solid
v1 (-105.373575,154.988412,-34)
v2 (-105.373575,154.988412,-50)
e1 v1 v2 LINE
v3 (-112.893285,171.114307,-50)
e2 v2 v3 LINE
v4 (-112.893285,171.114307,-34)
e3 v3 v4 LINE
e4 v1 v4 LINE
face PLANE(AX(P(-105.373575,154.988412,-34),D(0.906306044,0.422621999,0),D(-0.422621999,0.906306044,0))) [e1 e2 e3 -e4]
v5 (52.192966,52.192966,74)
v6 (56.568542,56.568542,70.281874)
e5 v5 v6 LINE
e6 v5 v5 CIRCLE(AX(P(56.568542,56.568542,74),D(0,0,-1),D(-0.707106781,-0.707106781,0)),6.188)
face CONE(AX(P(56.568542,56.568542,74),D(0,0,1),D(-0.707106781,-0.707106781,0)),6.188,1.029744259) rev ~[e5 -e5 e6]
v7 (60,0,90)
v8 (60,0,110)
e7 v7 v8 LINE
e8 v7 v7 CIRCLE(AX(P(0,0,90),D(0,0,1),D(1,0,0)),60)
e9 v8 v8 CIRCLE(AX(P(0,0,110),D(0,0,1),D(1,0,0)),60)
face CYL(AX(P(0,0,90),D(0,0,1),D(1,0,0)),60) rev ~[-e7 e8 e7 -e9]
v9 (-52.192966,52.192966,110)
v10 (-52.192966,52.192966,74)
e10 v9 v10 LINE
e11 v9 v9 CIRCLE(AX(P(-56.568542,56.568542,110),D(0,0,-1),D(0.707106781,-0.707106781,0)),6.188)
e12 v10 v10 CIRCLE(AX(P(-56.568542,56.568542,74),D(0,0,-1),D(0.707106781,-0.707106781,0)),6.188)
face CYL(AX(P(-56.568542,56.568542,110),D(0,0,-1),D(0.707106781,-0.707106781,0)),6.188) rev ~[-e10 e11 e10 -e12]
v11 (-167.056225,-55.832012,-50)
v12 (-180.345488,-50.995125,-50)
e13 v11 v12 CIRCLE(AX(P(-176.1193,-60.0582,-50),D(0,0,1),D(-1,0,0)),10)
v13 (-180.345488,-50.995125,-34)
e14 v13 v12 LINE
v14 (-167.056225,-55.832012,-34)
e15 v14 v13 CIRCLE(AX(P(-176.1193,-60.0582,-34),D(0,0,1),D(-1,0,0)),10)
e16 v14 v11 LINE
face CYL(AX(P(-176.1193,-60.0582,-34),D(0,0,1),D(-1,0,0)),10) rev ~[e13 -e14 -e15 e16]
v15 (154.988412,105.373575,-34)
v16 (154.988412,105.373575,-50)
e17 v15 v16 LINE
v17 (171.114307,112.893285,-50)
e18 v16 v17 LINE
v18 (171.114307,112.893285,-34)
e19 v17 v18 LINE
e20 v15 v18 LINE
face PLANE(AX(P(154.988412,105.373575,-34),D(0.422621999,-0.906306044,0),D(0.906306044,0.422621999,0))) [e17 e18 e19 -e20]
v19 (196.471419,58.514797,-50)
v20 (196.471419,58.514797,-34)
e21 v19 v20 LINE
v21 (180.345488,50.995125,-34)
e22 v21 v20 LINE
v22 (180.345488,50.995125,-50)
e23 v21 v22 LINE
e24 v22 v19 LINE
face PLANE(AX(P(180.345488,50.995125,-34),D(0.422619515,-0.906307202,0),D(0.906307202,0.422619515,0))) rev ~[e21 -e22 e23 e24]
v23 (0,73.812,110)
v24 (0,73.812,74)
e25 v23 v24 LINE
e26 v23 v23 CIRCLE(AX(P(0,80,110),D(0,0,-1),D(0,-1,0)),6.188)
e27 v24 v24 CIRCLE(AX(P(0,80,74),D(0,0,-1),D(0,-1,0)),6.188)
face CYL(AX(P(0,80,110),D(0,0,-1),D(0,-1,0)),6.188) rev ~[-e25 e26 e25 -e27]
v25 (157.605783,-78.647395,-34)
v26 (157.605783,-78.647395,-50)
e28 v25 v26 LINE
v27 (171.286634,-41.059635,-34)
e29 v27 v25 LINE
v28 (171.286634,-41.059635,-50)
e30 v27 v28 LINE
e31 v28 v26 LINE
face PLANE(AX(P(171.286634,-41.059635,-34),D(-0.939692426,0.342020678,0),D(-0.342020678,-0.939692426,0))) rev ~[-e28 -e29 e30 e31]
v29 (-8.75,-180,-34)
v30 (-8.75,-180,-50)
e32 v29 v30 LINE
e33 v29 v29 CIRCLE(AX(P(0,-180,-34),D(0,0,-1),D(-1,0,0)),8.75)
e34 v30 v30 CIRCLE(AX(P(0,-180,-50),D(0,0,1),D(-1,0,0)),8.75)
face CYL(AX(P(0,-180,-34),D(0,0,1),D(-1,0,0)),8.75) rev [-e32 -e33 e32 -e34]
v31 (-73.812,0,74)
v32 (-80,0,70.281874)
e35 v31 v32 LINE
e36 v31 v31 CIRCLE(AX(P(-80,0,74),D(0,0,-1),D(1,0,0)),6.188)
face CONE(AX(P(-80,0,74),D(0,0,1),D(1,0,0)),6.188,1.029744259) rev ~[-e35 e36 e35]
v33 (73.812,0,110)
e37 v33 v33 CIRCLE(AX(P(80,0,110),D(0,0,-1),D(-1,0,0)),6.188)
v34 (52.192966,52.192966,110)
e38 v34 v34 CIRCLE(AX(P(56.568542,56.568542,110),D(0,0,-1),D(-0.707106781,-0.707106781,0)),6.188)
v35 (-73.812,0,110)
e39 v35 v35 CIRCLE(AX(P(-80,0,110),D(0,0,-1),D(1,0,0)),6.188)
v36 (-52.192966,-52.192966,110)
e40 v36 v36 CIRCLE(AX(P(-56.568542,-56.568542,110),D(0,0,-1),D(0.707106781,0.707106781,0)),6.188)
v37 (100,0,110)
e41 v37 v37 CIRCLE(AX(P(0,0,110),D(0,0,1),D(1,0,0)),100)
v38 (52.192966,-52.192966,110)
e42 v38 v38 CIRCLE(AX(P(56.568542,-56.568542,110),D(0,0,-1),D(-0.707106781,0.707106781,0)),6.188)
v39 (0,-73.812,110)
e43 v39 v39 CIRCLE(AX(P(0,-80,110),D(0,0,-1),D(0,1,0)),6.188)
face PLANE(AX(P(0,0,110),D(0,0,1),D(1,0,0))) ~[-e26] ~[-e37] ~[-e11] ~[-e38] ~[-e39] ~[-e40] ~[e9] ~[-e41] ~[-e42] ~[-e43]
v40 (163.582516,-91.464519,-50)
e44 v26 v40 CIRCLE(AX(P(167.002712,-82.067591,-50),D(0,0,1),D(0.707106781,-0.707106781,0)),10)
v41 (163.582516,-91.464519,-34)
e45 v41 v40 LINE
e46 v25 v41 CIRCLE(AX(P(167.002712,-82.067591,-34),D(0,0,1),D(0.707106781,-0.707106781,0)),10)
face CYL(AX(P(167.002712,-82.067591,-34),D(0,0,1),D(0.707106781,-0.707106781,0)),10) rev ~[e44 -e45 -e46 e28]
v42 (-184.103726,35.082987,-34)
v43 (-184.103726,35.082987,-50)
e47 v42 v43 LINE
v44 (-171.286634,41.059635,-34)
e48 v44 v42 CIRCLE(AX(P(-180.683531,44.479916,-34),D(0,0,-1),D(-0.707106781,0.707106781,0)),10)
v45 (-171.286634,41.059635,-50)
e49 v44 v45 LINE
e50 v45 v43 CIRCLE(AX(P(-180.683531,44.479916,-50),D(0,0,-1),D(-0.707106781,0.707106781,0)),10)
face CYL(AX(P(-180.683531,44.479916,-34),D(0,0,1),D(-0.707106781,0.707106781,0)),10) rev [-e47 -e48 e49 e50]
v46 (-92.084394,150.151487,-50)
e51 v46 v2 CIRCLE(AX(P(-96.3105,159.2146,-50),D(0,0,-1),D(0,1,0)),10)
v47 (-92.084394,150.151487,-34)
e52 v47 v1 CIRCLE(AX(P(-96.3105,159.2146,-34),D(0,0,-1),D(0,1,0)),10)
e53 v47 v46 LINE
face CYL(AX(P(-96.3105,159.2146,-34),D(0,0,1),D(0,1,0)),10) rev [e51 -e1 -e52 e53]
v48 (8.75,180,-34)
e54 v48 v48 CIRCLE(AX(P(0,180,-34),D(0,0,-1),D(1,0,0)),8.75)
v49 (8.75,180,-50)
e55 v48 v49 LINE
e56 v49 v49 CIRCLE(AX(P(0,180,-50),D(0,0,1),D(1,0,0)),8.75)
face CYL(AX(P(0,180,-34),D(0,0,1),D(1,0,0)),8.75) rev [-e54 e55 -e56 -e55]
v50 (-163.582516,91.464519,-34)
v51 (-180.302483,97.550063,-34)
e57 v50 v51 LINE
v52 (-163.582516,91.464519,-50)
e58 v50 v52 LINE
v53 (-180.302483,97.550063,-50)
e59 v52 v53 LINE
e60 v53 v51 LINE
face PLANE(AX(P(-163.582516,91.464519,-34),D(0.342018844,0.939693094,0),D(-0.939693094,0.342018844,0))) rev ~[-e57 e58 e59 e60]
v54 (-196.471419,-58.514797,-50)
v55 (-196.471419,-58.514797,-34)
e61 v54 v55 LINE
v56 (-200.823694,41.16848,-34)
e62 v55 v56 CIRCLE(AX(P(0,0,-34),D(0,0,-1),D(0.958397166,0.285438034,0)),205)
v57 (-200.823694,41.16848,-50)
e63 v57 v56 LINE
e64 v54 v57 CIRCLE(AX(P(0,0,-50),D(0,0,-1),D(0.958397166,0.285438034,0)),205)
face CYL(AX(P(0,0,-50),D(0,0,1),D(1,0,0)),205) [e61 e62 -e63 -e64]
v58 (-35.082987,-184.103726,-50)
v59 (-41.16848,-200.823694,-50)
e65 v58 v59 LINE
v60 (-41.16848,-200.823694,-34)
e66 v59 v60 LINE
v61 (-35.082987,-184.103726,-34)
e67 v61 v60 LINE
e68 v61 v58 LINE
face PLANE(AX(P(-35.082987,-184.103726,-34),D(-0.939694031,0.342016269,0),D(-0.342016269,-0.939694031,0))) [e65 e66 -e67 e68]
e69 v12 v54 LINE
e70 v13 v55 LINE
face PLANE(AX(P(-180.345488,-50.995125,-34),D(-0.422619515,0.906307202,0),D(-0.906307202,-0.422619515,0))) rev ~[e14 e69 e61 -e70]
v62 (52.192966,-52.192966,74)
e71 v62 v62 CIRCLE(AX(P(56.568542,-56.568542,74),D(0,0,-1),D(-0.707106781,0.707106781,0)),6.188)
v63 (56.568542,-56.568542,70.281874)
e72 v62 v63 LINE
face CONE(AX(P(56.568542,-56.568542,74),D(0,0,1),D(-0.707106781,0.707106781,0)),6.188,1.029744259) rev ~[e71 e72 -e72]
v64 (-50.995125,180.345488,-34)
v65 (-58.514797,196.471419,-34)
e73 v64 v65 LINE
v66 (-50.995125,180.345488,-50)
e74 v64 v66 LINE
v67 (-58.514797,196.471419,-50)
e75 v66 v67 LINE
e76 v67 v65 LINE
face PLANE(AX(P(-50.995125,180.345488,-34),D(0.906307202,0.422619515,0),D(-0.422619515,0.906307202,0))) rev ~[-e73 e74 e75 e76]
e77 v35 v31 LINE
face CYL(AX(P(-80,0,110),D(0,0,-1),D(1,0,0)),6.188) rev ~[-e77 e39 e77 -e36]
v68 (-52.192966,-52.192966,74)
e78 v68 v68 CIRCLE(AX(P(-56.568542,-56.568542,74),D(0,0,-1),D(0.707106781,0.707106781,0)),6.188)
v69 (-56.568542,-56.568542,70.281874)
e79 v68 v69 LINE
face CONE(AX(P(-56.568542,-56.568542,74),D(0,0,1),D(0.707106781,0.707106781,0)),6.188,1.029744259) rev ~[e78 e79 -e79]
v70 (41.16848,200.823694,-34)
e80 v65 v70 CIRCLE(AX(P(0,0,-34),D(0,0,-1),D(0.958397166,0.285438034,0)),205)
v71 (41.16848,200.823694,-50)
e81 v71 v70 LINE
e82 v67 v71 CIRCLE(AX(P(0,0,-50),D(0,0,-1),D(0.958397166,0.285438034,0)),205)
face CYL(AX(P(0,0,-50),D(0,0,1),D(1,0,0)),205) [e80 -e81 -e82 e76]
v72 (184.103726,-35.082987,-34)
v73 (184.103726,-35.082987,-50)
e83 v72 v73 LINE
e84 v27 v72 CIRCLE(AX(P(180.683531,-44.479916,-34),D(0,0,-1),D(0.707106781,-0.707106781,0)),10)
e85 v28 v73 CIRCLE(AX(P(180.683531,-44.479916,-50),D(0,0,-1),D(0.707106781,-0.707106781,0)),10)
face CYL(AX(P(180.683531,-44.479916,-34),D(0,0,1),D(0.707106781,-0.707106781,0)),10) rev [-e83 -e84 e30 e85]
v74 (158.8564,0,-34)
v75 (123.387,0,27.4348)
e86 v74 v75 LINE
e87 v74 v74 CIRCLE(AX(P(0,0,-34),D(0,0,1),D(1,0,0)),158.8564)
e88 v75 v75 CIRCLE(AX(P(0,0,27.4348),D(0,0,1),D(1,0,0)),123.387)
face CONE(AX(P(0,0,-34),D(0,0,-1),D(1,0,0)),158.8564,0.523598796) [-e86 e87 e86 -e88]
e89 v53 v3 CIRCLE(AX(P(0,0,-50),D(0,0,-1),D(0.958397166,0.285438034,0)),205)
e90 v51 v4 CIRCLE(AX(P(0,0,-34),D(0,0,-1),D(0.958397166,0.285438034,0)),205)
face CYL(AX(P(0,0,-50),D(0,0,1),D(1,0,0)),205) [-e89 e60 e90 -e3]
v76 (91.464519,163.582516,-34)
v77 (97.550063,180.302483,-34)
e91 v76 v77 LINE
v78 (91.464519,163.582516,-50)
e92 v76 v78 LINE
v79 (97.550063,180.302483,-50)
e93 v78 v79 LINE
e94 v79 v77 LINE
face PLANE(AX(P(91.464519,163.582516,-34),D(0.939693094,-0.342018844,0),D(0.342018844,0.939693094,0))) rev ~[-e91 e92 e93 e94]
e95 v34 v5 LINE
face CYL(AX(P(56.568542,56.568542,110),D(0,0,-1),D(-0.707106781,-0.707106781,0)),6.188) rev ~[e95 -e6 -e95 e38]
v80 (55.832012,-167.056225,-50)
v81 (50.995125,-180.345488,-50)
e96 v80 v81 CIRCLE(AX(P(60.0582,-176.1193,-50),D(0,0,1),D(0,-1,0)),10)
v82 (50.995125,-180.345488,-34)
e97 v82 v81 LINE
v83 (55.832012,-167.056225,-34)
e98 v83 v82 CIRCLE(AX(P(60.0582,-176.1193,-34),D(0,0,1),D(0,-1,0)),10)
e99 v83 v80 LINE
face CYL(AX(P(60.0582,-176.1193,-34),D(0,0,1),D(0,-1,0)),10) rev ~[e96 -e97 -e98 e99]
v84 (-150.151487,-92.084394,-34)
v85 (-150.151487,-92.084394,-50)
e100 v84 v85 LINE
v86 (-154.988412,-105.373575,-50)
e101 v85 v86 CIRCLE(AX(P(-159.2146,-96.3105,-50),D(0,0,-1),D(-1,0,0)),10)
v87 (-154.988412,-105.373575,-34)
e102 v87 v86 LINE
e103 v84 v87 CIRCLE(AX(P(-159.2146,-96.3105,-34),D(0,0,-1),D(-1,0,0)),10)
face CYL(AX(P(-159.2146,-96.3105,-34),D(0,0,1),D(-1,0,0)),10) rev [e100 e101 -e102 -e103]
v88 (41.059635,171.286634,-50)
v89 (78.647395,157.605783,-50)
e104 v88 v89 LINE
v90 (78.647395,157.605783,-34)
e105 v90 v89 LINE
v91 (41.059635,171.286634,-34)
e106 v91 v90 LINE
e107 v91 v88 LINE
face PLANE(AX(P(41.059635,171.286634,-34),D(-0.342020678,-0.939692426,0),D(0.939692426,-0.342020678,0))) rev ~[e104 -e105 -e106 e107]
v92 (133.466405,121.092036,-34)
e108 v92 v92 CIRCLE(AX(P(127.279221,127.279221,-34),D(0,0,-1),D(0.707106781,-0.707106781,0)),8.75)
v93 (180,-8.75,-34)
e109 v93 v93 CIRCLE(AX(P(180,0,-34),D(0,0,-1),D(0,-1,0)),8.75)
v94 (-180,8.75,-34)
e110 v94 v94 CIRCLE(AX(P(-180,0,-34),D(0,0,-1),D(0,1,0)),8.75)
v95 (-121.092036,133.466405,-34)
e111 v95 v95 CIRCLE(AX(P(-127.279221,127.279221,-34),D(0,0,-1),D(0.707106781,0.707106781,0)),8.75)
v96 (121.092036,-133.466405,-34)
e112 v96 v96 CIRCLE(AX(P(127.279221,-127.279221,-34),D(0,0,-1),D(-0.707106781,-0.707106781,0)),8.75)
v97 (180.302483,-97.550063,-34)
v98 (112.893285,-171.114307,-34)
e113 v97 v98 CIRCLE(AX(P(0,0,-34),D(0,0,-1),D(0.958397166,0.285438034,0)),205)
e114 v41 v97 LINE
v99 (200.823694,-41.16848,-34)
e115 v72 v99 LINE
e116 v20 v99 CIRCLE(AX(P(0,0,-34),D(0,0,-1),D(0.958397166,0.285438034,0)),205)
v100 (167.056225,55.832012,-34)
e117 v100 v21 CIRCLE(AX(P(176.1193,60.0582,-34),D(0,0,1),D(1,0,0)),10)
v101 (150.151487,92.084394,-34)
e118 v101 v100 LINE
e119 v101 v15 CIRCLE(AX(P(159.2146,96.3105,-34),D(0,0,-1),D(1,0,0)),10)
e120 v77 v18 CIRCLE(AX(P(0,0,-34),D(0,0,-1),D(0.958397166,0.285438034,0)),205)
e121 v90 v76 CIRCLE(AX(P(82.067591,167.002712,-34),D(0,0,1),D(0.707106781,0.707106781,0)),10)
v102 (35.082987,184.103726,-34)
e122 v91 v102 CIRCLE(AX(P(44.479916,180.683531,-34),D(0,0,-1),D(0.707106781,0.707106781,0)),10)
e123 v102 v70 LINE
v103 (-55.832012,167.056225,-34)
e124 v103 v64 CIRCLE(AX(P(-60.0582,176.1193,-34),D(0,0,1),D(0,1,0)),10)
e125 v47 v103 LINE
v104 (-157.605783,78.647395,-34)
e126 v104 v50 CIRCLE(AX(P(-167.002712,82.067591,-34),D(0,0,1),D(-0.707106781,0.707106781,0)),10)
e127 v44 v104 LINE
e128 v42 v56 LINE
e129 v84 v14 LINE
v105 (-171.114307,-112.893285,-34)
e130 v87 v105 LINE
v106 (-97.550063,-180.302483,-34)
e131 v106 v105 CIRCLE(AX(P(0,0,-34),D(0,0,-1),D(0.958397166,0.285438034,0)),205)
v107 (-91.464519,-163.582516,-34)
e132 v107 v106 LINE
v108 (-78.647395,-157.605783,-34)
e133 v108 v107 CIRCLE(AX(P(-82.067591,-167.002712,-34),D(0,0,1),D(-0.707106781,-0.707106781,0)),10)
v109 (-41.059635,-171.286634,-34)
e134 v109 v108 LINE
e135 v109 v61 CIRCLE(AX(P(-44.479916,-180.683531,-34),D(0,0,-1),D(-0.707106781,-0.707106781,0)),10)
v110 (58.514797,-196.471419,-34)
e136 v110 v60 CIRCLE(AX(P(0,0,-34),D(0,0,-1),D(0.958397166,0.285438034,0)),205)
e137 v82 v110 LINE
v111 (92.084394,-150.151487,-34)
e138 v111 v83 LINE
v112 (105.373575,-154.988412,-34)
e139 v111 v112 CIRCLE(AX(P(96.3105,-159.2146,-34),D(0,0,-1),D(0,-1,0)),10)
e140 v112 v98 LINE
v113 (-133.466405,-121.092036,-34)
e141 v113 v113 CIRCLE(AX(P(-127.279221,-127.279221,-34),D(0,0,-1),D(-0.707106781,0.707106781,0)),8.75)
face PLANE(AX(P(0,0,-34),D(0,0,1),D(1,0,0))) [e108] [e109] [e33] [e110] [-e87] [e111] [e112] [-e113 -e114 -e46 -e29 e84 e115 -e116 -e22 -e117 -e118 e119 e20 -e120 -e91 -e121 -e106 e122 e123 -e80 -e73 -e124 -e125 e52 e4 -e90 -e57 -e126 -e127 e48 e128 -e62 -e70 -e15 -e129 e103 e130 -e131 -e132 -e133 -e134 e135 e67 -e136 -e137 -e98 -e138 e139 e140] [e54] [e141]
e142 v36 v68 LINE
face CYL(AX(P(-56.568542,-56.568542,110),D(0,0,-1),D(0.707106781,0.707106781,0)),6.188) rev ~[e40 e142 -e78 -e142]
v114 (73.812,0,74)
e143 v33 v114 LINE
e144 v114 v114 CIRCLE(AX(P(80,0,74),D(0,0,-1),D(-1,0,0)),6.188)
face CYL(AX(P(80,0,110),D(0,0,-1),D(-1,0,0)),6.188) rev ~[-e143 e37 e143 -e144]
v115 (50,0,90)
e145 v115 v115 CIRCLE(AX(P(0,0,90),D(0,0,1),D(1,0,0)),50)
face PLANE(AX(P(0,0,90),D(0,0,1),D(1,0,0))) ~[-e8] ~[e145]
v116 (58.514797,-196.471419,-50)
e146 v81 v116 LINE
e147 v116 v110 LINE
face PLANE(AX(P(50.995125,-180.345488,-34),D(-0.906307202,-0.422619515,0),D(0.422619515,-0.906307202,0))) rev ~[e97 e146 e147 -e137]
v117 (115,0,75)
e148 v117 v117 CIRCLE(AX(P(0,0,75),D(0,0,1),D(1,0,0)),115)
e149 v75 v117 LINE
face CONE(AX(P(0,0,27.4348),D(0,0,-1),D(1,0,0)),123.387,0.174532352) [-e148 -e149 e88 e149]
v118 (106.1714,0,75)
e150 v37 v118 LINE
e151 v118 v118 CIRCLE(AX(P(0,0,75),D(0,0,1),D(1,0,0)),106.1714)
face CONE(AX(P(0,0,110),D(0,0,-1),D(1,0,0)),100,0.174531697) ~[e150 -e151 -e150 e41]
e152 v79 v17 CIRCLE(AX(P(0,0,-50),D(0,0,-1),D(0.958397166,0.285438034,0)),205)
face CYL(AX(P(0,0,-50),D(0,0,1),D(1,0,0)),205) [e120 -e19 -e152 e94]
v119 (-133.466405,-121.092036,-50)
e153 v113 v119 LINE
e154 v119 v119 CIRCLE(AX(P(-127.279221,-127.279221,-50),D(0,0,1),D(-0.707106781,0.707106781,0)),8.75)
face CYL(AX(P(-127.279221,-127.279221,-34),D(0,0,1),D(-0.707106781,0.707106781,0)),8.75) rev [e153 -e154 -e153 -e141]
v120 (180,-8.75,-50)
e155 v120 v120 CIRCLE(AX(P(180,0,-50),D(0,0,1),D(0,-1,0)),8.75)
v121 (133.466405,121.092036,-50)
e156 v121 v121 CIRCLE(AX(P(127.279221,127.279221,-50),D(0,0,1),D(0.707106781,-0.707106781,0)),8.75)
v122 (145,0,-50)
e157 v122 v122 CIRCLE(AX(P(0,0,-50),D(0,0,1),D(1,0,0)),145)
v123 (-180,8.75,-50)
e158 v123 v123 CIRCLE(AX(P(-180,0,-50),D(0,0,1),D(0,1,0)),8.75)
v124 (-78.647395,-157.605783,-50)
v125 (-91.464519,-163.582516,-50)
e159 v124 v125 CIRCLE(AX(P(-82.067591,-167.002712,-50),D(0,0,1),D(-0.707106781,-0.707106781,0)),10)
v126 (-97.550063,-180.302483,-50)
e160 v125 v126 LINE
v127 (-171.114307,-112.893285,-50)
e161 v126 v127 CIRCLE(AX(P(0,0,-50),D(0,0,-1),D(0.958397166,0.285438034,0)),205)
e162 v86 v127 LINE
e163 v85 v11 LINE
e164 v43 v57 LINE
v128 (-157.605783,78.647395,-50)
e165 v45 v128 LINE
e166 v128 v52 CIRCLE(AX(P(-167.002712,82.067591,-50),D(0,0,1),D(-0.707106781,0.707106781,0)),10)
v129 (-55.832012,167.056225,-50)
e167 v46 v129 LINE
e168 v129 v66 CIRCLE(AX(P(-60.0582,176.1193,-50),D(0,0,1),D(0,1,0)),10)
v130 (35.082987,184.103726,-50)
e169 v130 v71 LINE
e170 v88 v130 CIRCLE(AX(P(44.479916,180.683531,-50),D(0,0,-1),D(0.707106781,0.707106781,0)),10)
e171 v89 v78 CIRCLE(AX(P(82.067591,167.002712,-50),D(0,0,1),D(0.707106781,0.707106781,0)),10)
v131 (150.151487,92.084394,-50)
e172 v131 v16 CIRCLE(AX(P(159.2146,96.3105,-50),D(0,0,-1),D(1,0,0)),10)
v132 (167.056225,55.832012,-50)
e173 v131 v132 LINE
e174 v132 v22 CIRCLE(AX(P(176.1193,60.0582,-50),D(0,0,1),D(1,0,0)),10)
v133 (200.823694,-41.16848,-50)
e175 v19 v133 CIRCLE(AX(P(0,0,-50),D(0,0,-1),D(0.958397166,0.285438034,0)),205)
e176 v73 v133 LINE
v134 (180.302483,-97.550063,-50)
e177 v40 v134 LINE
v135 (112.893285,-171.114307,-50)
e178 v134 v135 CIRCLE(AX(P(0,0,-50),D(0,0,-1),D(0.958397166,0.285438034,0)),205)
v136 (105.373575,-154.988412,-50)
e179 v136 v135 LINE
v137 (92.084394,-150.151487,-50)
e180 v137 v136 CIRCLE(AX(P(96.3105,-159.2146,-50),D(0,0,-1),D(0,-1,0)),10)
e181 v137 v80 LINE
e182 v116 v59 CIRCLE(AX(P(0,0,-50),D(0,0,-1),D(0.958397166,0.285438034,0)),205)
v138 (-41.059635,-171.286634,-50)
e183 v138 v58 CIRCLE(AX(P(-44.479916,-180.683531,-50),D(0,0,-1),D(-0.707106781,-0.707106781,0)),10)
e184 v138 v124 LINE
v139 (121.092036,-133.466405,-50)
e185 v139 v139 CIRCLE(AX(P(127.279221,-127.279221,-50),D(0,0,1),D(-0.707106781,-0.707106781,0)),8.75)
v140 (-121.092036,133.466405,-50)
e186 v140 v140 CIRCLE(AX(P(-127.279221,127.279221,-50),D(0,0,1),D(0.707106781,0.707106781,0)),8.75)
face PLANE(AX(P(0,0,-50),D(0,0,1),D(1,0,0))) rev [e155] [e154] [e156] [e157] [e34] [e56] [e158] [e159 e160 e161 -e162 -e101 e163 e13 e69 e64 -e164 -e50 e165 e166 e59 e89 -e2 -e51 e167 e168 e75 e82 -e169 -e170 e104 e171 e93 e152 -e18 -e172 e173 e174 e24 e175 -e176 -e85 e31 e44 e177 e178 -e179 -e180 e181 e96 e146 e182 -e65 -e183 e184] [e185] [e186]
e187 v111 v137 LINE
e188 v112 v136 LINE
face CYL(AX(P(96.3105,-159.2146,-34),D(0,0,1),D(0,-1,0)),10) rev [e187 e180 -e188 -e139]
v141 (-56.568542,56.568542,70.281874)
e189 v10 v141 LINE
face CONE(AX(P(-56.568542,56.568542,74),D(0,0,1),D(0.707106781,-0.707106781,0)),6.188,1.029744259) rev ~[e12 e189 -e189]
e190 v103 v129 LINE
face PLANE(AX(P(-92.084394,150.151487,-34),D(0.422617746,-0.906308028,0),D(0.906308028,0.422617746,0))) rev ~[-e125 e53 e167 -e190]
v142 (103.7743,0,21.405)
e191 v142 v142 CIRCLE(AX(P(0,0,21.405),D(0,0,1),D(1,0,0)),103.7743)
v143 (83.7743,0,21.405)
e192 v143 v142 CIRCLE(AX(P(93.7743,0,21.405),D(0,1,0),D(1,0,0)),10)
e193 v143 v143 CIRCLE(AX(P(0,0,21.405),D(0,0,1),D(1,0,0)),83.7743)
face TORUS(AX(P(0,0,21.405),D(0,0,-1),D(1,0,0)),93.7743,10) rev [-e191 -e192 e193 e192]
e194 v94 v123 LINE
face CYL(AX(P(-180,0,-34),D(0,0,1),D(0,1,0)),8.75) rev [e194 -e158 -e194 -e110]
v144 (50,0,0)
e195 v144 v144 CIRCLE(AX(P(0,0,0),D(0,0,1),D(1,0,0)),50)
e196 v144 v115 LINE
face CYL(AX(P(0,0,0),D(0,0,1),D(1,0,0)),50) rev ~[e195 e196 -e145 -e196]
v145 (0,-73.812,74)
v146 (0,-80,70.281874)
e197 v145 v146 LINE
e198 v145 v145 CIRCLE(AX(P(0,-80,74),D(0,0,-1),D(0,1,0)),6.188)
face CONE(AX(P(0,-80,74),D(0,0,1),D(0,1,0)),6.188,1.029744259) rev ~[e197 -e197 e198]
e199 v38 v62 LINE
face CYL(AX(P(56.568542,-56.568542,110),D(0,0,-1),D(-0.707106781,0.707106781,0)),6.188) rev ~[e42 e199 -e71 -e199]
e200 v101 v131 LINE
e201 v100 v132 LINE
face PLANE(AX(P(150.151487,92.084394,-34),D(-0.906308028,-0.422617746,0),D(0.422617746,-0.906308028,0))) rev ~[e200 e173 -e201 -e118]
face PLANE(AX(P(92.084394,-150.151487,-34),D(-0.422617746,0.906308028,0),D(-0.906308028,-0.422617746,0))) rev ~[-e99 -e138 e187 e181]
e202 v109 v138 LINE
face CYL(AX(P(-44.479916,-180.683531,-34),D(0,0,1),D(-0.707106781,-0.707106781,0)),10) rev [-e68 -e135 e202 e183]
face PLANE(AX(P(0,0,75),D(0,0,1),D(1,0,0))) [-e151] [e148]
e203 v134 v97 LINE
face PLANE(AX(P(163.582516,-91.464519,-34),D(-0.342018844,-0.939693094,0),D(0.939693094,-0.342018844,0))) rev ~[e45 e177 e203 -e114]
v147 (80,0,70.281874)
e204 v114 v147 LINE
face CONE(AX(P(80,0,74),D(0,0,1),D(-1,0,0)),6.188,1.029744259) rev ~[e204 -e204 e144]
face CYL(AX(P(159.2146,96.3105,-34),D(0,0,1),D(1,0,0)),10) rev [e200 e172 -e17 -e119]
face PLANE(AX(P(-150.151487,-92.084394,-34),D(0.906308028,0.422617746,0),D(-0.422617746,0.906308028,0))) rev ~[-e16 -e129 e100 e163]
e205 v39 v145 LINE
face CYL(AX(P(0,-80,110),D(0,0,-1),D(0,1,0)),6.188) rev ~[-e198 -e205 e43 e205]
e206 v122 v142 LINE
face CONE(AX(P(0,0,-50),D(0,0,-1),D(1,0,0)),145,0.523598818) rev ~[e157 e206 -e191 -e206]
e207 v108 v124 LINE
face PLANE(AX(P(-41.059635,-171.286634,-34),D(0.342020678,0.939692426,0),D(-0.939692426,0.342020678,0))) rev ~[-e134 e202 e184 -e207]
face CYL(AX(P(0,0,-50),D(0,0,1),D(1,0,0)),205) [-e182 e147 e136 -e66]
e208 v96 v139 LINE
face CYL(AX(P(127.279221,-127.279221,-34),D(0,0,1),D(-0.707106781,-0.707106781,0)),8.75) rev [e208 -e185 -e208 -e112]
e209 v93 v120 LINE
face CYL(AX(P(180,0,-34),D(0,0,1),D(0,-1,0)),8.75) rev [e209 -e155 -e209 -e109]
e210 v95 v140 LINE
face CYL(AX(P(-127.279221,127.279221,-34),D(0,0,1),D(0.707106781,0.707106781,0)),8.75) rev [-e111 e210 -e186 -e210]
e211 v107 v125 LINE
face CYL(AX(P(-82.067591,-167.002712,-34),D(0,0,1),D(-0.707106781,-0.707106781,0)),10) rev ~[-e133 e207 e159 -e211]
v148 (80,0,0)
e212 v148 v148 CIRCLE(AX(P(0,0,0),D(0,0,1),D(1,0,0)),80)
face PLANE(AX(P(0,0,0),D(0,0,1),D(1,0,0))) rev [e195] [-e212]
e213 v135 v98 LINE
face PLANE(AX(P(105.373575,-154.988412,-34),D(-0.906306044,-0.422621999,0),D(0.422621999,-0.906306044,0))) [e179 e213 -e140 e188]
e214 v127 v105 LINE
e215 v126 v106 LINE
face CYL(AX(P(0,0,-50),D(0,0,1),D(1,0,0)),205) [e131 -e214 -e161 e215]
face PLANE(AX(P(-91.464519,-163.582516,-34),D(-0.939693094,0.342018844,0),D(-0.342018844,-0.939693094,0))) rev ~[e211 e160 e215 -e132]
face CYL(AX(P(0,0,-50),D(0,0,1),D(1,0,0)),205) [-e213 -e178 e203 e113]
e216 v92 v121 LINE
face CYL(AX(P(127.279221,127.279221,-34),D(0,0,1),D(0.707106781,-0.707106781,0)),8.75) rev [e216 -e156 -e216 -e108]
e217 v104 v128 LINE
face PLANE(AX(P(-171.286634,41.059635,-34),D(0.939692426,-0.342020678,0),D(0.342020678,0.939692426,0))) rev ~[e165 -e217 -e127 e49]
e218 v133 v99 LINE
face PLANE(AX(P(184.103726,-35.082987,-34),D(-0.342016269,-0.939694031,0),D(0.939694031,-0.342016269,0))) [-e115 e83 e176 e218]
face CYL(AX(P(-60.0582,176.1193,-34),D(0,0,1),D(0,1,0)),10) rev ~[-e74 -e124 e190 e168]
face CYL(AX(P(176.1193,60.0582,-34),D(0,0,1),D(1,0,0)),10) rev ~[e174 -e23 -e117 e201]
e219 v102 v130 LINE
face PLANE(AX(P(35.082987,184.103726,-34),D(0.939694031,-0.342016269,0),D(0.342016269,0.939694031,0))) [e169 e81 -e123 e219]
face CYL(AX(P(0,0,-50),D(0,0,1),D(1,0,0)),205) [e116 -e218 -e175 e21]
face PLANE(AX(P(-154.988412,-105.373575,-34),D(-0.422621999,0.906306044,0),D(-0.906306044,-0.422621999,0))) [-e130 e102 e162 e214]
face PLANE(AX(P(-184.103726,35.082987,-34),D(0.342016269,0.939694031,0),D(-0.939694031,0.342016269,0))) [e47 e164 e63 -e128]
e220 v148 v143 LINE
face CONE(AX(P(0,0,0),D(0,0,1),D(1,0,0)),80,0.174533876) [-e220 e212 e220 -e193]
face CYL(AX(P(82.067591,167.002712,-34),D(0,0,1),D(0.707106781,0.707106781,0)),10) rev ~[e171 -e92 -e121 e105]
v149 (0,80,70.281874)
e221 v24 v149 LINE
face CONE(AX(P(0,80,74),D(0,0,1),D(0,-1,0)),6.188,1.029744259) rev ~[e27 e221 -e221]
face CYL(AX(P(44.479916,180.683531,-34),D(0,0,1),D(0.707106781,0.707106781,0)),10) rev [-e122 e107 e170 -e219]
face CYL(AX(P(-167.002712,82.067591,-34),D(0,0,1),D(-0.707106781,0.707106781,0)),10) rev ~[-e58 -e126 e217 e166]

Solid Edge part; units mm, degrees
sketch "Sketch1" plane through (0, 0, 0) normal (0, -1, 0) x (1, 0, 0)
  line L0 (50, 0) -> (80, 0)
  line L1 (80, 0) -> (83.7743, 21.405)
  line L2 (145, -50) -> (103.7743, 21.405)
  line L3 (145, -50) -> (205, -50)
  line L4 (205, -50) -> (205, -34)
  line L5 (205, -34) -> (158.8564, -34)
  line L6 (158.8564, -34) -> (123.387, 27.4348)
  line L7 (123.387, 27.4348) -> (115, 75)
  line L8 (115, 75) -> (106.1714, 75)
  line L9 (100, 110) -> (106.1714, 75)
  line L10 (60, 110) -> (100, 110)
  line L11 (60, 90) -> (60, 110)
  line L12 (50, 90) -> (60, 90)
  line L13 (50, 0) -> (50, 90)
  arc A0 (83.7743, 21.405) -> (103.7743, 21.405) centre (93.7743, 21.405) cw
revolve "RevolvedProtrusion1" add sketch "Sketch1" angle 360 about axis through (0, 0, -50) along (0, 0, 1)
hole "Agujero_1" at (0, 80, 110) direction (0, 0, -1) diameter 12.376 depth 36 tip angle 118 thread major 14 thread length 20
pattern_circular "Pattern1" count 8 over 360 about axis through (0, 0, 0) along (0, 0, -1) of "Agujero_1"
hole "Agujero_10" at (180, 0, -34) direction (0, 0, -1) diameter 17.5 end up to next
pattern_circular "Pattern3" count 8 over 360 about axis through (0, 0, 0) along (0, 0, -1) of "Agujero_10"
sketch "Sketch2" plane through (0, 0, -34) normal (0, 0, 1) x (1, 0, 0)
  arc A0 (150.1515, 92.0844) -> (154.9884, 105.3736) centre (159.2146, 96.3105) cw
  line L0 (154.9884, 105.3736) -> (173.1145, 113.826)
  line L1 (180.3455, 50.9951) -> (198.4716, 59.4475)
  arc A1 (167.0562, 55.832) -> (180.3455, 50.9951) centre (176.1193, 60.0582) ccw
  line L2 (150.1515, 92.0844) -> (167.0562, 55.832)
extrude "VaciadoExtruido_1" cut sketch "Sketch2" against normal blind 16 material side at (149.8647, 99.7136, -34)
pattern_circular "Pattern5" count 8 over 360 about axis through (0, 0, 0) along (0, 0, -1) of "VaciadoExtruido_1"
